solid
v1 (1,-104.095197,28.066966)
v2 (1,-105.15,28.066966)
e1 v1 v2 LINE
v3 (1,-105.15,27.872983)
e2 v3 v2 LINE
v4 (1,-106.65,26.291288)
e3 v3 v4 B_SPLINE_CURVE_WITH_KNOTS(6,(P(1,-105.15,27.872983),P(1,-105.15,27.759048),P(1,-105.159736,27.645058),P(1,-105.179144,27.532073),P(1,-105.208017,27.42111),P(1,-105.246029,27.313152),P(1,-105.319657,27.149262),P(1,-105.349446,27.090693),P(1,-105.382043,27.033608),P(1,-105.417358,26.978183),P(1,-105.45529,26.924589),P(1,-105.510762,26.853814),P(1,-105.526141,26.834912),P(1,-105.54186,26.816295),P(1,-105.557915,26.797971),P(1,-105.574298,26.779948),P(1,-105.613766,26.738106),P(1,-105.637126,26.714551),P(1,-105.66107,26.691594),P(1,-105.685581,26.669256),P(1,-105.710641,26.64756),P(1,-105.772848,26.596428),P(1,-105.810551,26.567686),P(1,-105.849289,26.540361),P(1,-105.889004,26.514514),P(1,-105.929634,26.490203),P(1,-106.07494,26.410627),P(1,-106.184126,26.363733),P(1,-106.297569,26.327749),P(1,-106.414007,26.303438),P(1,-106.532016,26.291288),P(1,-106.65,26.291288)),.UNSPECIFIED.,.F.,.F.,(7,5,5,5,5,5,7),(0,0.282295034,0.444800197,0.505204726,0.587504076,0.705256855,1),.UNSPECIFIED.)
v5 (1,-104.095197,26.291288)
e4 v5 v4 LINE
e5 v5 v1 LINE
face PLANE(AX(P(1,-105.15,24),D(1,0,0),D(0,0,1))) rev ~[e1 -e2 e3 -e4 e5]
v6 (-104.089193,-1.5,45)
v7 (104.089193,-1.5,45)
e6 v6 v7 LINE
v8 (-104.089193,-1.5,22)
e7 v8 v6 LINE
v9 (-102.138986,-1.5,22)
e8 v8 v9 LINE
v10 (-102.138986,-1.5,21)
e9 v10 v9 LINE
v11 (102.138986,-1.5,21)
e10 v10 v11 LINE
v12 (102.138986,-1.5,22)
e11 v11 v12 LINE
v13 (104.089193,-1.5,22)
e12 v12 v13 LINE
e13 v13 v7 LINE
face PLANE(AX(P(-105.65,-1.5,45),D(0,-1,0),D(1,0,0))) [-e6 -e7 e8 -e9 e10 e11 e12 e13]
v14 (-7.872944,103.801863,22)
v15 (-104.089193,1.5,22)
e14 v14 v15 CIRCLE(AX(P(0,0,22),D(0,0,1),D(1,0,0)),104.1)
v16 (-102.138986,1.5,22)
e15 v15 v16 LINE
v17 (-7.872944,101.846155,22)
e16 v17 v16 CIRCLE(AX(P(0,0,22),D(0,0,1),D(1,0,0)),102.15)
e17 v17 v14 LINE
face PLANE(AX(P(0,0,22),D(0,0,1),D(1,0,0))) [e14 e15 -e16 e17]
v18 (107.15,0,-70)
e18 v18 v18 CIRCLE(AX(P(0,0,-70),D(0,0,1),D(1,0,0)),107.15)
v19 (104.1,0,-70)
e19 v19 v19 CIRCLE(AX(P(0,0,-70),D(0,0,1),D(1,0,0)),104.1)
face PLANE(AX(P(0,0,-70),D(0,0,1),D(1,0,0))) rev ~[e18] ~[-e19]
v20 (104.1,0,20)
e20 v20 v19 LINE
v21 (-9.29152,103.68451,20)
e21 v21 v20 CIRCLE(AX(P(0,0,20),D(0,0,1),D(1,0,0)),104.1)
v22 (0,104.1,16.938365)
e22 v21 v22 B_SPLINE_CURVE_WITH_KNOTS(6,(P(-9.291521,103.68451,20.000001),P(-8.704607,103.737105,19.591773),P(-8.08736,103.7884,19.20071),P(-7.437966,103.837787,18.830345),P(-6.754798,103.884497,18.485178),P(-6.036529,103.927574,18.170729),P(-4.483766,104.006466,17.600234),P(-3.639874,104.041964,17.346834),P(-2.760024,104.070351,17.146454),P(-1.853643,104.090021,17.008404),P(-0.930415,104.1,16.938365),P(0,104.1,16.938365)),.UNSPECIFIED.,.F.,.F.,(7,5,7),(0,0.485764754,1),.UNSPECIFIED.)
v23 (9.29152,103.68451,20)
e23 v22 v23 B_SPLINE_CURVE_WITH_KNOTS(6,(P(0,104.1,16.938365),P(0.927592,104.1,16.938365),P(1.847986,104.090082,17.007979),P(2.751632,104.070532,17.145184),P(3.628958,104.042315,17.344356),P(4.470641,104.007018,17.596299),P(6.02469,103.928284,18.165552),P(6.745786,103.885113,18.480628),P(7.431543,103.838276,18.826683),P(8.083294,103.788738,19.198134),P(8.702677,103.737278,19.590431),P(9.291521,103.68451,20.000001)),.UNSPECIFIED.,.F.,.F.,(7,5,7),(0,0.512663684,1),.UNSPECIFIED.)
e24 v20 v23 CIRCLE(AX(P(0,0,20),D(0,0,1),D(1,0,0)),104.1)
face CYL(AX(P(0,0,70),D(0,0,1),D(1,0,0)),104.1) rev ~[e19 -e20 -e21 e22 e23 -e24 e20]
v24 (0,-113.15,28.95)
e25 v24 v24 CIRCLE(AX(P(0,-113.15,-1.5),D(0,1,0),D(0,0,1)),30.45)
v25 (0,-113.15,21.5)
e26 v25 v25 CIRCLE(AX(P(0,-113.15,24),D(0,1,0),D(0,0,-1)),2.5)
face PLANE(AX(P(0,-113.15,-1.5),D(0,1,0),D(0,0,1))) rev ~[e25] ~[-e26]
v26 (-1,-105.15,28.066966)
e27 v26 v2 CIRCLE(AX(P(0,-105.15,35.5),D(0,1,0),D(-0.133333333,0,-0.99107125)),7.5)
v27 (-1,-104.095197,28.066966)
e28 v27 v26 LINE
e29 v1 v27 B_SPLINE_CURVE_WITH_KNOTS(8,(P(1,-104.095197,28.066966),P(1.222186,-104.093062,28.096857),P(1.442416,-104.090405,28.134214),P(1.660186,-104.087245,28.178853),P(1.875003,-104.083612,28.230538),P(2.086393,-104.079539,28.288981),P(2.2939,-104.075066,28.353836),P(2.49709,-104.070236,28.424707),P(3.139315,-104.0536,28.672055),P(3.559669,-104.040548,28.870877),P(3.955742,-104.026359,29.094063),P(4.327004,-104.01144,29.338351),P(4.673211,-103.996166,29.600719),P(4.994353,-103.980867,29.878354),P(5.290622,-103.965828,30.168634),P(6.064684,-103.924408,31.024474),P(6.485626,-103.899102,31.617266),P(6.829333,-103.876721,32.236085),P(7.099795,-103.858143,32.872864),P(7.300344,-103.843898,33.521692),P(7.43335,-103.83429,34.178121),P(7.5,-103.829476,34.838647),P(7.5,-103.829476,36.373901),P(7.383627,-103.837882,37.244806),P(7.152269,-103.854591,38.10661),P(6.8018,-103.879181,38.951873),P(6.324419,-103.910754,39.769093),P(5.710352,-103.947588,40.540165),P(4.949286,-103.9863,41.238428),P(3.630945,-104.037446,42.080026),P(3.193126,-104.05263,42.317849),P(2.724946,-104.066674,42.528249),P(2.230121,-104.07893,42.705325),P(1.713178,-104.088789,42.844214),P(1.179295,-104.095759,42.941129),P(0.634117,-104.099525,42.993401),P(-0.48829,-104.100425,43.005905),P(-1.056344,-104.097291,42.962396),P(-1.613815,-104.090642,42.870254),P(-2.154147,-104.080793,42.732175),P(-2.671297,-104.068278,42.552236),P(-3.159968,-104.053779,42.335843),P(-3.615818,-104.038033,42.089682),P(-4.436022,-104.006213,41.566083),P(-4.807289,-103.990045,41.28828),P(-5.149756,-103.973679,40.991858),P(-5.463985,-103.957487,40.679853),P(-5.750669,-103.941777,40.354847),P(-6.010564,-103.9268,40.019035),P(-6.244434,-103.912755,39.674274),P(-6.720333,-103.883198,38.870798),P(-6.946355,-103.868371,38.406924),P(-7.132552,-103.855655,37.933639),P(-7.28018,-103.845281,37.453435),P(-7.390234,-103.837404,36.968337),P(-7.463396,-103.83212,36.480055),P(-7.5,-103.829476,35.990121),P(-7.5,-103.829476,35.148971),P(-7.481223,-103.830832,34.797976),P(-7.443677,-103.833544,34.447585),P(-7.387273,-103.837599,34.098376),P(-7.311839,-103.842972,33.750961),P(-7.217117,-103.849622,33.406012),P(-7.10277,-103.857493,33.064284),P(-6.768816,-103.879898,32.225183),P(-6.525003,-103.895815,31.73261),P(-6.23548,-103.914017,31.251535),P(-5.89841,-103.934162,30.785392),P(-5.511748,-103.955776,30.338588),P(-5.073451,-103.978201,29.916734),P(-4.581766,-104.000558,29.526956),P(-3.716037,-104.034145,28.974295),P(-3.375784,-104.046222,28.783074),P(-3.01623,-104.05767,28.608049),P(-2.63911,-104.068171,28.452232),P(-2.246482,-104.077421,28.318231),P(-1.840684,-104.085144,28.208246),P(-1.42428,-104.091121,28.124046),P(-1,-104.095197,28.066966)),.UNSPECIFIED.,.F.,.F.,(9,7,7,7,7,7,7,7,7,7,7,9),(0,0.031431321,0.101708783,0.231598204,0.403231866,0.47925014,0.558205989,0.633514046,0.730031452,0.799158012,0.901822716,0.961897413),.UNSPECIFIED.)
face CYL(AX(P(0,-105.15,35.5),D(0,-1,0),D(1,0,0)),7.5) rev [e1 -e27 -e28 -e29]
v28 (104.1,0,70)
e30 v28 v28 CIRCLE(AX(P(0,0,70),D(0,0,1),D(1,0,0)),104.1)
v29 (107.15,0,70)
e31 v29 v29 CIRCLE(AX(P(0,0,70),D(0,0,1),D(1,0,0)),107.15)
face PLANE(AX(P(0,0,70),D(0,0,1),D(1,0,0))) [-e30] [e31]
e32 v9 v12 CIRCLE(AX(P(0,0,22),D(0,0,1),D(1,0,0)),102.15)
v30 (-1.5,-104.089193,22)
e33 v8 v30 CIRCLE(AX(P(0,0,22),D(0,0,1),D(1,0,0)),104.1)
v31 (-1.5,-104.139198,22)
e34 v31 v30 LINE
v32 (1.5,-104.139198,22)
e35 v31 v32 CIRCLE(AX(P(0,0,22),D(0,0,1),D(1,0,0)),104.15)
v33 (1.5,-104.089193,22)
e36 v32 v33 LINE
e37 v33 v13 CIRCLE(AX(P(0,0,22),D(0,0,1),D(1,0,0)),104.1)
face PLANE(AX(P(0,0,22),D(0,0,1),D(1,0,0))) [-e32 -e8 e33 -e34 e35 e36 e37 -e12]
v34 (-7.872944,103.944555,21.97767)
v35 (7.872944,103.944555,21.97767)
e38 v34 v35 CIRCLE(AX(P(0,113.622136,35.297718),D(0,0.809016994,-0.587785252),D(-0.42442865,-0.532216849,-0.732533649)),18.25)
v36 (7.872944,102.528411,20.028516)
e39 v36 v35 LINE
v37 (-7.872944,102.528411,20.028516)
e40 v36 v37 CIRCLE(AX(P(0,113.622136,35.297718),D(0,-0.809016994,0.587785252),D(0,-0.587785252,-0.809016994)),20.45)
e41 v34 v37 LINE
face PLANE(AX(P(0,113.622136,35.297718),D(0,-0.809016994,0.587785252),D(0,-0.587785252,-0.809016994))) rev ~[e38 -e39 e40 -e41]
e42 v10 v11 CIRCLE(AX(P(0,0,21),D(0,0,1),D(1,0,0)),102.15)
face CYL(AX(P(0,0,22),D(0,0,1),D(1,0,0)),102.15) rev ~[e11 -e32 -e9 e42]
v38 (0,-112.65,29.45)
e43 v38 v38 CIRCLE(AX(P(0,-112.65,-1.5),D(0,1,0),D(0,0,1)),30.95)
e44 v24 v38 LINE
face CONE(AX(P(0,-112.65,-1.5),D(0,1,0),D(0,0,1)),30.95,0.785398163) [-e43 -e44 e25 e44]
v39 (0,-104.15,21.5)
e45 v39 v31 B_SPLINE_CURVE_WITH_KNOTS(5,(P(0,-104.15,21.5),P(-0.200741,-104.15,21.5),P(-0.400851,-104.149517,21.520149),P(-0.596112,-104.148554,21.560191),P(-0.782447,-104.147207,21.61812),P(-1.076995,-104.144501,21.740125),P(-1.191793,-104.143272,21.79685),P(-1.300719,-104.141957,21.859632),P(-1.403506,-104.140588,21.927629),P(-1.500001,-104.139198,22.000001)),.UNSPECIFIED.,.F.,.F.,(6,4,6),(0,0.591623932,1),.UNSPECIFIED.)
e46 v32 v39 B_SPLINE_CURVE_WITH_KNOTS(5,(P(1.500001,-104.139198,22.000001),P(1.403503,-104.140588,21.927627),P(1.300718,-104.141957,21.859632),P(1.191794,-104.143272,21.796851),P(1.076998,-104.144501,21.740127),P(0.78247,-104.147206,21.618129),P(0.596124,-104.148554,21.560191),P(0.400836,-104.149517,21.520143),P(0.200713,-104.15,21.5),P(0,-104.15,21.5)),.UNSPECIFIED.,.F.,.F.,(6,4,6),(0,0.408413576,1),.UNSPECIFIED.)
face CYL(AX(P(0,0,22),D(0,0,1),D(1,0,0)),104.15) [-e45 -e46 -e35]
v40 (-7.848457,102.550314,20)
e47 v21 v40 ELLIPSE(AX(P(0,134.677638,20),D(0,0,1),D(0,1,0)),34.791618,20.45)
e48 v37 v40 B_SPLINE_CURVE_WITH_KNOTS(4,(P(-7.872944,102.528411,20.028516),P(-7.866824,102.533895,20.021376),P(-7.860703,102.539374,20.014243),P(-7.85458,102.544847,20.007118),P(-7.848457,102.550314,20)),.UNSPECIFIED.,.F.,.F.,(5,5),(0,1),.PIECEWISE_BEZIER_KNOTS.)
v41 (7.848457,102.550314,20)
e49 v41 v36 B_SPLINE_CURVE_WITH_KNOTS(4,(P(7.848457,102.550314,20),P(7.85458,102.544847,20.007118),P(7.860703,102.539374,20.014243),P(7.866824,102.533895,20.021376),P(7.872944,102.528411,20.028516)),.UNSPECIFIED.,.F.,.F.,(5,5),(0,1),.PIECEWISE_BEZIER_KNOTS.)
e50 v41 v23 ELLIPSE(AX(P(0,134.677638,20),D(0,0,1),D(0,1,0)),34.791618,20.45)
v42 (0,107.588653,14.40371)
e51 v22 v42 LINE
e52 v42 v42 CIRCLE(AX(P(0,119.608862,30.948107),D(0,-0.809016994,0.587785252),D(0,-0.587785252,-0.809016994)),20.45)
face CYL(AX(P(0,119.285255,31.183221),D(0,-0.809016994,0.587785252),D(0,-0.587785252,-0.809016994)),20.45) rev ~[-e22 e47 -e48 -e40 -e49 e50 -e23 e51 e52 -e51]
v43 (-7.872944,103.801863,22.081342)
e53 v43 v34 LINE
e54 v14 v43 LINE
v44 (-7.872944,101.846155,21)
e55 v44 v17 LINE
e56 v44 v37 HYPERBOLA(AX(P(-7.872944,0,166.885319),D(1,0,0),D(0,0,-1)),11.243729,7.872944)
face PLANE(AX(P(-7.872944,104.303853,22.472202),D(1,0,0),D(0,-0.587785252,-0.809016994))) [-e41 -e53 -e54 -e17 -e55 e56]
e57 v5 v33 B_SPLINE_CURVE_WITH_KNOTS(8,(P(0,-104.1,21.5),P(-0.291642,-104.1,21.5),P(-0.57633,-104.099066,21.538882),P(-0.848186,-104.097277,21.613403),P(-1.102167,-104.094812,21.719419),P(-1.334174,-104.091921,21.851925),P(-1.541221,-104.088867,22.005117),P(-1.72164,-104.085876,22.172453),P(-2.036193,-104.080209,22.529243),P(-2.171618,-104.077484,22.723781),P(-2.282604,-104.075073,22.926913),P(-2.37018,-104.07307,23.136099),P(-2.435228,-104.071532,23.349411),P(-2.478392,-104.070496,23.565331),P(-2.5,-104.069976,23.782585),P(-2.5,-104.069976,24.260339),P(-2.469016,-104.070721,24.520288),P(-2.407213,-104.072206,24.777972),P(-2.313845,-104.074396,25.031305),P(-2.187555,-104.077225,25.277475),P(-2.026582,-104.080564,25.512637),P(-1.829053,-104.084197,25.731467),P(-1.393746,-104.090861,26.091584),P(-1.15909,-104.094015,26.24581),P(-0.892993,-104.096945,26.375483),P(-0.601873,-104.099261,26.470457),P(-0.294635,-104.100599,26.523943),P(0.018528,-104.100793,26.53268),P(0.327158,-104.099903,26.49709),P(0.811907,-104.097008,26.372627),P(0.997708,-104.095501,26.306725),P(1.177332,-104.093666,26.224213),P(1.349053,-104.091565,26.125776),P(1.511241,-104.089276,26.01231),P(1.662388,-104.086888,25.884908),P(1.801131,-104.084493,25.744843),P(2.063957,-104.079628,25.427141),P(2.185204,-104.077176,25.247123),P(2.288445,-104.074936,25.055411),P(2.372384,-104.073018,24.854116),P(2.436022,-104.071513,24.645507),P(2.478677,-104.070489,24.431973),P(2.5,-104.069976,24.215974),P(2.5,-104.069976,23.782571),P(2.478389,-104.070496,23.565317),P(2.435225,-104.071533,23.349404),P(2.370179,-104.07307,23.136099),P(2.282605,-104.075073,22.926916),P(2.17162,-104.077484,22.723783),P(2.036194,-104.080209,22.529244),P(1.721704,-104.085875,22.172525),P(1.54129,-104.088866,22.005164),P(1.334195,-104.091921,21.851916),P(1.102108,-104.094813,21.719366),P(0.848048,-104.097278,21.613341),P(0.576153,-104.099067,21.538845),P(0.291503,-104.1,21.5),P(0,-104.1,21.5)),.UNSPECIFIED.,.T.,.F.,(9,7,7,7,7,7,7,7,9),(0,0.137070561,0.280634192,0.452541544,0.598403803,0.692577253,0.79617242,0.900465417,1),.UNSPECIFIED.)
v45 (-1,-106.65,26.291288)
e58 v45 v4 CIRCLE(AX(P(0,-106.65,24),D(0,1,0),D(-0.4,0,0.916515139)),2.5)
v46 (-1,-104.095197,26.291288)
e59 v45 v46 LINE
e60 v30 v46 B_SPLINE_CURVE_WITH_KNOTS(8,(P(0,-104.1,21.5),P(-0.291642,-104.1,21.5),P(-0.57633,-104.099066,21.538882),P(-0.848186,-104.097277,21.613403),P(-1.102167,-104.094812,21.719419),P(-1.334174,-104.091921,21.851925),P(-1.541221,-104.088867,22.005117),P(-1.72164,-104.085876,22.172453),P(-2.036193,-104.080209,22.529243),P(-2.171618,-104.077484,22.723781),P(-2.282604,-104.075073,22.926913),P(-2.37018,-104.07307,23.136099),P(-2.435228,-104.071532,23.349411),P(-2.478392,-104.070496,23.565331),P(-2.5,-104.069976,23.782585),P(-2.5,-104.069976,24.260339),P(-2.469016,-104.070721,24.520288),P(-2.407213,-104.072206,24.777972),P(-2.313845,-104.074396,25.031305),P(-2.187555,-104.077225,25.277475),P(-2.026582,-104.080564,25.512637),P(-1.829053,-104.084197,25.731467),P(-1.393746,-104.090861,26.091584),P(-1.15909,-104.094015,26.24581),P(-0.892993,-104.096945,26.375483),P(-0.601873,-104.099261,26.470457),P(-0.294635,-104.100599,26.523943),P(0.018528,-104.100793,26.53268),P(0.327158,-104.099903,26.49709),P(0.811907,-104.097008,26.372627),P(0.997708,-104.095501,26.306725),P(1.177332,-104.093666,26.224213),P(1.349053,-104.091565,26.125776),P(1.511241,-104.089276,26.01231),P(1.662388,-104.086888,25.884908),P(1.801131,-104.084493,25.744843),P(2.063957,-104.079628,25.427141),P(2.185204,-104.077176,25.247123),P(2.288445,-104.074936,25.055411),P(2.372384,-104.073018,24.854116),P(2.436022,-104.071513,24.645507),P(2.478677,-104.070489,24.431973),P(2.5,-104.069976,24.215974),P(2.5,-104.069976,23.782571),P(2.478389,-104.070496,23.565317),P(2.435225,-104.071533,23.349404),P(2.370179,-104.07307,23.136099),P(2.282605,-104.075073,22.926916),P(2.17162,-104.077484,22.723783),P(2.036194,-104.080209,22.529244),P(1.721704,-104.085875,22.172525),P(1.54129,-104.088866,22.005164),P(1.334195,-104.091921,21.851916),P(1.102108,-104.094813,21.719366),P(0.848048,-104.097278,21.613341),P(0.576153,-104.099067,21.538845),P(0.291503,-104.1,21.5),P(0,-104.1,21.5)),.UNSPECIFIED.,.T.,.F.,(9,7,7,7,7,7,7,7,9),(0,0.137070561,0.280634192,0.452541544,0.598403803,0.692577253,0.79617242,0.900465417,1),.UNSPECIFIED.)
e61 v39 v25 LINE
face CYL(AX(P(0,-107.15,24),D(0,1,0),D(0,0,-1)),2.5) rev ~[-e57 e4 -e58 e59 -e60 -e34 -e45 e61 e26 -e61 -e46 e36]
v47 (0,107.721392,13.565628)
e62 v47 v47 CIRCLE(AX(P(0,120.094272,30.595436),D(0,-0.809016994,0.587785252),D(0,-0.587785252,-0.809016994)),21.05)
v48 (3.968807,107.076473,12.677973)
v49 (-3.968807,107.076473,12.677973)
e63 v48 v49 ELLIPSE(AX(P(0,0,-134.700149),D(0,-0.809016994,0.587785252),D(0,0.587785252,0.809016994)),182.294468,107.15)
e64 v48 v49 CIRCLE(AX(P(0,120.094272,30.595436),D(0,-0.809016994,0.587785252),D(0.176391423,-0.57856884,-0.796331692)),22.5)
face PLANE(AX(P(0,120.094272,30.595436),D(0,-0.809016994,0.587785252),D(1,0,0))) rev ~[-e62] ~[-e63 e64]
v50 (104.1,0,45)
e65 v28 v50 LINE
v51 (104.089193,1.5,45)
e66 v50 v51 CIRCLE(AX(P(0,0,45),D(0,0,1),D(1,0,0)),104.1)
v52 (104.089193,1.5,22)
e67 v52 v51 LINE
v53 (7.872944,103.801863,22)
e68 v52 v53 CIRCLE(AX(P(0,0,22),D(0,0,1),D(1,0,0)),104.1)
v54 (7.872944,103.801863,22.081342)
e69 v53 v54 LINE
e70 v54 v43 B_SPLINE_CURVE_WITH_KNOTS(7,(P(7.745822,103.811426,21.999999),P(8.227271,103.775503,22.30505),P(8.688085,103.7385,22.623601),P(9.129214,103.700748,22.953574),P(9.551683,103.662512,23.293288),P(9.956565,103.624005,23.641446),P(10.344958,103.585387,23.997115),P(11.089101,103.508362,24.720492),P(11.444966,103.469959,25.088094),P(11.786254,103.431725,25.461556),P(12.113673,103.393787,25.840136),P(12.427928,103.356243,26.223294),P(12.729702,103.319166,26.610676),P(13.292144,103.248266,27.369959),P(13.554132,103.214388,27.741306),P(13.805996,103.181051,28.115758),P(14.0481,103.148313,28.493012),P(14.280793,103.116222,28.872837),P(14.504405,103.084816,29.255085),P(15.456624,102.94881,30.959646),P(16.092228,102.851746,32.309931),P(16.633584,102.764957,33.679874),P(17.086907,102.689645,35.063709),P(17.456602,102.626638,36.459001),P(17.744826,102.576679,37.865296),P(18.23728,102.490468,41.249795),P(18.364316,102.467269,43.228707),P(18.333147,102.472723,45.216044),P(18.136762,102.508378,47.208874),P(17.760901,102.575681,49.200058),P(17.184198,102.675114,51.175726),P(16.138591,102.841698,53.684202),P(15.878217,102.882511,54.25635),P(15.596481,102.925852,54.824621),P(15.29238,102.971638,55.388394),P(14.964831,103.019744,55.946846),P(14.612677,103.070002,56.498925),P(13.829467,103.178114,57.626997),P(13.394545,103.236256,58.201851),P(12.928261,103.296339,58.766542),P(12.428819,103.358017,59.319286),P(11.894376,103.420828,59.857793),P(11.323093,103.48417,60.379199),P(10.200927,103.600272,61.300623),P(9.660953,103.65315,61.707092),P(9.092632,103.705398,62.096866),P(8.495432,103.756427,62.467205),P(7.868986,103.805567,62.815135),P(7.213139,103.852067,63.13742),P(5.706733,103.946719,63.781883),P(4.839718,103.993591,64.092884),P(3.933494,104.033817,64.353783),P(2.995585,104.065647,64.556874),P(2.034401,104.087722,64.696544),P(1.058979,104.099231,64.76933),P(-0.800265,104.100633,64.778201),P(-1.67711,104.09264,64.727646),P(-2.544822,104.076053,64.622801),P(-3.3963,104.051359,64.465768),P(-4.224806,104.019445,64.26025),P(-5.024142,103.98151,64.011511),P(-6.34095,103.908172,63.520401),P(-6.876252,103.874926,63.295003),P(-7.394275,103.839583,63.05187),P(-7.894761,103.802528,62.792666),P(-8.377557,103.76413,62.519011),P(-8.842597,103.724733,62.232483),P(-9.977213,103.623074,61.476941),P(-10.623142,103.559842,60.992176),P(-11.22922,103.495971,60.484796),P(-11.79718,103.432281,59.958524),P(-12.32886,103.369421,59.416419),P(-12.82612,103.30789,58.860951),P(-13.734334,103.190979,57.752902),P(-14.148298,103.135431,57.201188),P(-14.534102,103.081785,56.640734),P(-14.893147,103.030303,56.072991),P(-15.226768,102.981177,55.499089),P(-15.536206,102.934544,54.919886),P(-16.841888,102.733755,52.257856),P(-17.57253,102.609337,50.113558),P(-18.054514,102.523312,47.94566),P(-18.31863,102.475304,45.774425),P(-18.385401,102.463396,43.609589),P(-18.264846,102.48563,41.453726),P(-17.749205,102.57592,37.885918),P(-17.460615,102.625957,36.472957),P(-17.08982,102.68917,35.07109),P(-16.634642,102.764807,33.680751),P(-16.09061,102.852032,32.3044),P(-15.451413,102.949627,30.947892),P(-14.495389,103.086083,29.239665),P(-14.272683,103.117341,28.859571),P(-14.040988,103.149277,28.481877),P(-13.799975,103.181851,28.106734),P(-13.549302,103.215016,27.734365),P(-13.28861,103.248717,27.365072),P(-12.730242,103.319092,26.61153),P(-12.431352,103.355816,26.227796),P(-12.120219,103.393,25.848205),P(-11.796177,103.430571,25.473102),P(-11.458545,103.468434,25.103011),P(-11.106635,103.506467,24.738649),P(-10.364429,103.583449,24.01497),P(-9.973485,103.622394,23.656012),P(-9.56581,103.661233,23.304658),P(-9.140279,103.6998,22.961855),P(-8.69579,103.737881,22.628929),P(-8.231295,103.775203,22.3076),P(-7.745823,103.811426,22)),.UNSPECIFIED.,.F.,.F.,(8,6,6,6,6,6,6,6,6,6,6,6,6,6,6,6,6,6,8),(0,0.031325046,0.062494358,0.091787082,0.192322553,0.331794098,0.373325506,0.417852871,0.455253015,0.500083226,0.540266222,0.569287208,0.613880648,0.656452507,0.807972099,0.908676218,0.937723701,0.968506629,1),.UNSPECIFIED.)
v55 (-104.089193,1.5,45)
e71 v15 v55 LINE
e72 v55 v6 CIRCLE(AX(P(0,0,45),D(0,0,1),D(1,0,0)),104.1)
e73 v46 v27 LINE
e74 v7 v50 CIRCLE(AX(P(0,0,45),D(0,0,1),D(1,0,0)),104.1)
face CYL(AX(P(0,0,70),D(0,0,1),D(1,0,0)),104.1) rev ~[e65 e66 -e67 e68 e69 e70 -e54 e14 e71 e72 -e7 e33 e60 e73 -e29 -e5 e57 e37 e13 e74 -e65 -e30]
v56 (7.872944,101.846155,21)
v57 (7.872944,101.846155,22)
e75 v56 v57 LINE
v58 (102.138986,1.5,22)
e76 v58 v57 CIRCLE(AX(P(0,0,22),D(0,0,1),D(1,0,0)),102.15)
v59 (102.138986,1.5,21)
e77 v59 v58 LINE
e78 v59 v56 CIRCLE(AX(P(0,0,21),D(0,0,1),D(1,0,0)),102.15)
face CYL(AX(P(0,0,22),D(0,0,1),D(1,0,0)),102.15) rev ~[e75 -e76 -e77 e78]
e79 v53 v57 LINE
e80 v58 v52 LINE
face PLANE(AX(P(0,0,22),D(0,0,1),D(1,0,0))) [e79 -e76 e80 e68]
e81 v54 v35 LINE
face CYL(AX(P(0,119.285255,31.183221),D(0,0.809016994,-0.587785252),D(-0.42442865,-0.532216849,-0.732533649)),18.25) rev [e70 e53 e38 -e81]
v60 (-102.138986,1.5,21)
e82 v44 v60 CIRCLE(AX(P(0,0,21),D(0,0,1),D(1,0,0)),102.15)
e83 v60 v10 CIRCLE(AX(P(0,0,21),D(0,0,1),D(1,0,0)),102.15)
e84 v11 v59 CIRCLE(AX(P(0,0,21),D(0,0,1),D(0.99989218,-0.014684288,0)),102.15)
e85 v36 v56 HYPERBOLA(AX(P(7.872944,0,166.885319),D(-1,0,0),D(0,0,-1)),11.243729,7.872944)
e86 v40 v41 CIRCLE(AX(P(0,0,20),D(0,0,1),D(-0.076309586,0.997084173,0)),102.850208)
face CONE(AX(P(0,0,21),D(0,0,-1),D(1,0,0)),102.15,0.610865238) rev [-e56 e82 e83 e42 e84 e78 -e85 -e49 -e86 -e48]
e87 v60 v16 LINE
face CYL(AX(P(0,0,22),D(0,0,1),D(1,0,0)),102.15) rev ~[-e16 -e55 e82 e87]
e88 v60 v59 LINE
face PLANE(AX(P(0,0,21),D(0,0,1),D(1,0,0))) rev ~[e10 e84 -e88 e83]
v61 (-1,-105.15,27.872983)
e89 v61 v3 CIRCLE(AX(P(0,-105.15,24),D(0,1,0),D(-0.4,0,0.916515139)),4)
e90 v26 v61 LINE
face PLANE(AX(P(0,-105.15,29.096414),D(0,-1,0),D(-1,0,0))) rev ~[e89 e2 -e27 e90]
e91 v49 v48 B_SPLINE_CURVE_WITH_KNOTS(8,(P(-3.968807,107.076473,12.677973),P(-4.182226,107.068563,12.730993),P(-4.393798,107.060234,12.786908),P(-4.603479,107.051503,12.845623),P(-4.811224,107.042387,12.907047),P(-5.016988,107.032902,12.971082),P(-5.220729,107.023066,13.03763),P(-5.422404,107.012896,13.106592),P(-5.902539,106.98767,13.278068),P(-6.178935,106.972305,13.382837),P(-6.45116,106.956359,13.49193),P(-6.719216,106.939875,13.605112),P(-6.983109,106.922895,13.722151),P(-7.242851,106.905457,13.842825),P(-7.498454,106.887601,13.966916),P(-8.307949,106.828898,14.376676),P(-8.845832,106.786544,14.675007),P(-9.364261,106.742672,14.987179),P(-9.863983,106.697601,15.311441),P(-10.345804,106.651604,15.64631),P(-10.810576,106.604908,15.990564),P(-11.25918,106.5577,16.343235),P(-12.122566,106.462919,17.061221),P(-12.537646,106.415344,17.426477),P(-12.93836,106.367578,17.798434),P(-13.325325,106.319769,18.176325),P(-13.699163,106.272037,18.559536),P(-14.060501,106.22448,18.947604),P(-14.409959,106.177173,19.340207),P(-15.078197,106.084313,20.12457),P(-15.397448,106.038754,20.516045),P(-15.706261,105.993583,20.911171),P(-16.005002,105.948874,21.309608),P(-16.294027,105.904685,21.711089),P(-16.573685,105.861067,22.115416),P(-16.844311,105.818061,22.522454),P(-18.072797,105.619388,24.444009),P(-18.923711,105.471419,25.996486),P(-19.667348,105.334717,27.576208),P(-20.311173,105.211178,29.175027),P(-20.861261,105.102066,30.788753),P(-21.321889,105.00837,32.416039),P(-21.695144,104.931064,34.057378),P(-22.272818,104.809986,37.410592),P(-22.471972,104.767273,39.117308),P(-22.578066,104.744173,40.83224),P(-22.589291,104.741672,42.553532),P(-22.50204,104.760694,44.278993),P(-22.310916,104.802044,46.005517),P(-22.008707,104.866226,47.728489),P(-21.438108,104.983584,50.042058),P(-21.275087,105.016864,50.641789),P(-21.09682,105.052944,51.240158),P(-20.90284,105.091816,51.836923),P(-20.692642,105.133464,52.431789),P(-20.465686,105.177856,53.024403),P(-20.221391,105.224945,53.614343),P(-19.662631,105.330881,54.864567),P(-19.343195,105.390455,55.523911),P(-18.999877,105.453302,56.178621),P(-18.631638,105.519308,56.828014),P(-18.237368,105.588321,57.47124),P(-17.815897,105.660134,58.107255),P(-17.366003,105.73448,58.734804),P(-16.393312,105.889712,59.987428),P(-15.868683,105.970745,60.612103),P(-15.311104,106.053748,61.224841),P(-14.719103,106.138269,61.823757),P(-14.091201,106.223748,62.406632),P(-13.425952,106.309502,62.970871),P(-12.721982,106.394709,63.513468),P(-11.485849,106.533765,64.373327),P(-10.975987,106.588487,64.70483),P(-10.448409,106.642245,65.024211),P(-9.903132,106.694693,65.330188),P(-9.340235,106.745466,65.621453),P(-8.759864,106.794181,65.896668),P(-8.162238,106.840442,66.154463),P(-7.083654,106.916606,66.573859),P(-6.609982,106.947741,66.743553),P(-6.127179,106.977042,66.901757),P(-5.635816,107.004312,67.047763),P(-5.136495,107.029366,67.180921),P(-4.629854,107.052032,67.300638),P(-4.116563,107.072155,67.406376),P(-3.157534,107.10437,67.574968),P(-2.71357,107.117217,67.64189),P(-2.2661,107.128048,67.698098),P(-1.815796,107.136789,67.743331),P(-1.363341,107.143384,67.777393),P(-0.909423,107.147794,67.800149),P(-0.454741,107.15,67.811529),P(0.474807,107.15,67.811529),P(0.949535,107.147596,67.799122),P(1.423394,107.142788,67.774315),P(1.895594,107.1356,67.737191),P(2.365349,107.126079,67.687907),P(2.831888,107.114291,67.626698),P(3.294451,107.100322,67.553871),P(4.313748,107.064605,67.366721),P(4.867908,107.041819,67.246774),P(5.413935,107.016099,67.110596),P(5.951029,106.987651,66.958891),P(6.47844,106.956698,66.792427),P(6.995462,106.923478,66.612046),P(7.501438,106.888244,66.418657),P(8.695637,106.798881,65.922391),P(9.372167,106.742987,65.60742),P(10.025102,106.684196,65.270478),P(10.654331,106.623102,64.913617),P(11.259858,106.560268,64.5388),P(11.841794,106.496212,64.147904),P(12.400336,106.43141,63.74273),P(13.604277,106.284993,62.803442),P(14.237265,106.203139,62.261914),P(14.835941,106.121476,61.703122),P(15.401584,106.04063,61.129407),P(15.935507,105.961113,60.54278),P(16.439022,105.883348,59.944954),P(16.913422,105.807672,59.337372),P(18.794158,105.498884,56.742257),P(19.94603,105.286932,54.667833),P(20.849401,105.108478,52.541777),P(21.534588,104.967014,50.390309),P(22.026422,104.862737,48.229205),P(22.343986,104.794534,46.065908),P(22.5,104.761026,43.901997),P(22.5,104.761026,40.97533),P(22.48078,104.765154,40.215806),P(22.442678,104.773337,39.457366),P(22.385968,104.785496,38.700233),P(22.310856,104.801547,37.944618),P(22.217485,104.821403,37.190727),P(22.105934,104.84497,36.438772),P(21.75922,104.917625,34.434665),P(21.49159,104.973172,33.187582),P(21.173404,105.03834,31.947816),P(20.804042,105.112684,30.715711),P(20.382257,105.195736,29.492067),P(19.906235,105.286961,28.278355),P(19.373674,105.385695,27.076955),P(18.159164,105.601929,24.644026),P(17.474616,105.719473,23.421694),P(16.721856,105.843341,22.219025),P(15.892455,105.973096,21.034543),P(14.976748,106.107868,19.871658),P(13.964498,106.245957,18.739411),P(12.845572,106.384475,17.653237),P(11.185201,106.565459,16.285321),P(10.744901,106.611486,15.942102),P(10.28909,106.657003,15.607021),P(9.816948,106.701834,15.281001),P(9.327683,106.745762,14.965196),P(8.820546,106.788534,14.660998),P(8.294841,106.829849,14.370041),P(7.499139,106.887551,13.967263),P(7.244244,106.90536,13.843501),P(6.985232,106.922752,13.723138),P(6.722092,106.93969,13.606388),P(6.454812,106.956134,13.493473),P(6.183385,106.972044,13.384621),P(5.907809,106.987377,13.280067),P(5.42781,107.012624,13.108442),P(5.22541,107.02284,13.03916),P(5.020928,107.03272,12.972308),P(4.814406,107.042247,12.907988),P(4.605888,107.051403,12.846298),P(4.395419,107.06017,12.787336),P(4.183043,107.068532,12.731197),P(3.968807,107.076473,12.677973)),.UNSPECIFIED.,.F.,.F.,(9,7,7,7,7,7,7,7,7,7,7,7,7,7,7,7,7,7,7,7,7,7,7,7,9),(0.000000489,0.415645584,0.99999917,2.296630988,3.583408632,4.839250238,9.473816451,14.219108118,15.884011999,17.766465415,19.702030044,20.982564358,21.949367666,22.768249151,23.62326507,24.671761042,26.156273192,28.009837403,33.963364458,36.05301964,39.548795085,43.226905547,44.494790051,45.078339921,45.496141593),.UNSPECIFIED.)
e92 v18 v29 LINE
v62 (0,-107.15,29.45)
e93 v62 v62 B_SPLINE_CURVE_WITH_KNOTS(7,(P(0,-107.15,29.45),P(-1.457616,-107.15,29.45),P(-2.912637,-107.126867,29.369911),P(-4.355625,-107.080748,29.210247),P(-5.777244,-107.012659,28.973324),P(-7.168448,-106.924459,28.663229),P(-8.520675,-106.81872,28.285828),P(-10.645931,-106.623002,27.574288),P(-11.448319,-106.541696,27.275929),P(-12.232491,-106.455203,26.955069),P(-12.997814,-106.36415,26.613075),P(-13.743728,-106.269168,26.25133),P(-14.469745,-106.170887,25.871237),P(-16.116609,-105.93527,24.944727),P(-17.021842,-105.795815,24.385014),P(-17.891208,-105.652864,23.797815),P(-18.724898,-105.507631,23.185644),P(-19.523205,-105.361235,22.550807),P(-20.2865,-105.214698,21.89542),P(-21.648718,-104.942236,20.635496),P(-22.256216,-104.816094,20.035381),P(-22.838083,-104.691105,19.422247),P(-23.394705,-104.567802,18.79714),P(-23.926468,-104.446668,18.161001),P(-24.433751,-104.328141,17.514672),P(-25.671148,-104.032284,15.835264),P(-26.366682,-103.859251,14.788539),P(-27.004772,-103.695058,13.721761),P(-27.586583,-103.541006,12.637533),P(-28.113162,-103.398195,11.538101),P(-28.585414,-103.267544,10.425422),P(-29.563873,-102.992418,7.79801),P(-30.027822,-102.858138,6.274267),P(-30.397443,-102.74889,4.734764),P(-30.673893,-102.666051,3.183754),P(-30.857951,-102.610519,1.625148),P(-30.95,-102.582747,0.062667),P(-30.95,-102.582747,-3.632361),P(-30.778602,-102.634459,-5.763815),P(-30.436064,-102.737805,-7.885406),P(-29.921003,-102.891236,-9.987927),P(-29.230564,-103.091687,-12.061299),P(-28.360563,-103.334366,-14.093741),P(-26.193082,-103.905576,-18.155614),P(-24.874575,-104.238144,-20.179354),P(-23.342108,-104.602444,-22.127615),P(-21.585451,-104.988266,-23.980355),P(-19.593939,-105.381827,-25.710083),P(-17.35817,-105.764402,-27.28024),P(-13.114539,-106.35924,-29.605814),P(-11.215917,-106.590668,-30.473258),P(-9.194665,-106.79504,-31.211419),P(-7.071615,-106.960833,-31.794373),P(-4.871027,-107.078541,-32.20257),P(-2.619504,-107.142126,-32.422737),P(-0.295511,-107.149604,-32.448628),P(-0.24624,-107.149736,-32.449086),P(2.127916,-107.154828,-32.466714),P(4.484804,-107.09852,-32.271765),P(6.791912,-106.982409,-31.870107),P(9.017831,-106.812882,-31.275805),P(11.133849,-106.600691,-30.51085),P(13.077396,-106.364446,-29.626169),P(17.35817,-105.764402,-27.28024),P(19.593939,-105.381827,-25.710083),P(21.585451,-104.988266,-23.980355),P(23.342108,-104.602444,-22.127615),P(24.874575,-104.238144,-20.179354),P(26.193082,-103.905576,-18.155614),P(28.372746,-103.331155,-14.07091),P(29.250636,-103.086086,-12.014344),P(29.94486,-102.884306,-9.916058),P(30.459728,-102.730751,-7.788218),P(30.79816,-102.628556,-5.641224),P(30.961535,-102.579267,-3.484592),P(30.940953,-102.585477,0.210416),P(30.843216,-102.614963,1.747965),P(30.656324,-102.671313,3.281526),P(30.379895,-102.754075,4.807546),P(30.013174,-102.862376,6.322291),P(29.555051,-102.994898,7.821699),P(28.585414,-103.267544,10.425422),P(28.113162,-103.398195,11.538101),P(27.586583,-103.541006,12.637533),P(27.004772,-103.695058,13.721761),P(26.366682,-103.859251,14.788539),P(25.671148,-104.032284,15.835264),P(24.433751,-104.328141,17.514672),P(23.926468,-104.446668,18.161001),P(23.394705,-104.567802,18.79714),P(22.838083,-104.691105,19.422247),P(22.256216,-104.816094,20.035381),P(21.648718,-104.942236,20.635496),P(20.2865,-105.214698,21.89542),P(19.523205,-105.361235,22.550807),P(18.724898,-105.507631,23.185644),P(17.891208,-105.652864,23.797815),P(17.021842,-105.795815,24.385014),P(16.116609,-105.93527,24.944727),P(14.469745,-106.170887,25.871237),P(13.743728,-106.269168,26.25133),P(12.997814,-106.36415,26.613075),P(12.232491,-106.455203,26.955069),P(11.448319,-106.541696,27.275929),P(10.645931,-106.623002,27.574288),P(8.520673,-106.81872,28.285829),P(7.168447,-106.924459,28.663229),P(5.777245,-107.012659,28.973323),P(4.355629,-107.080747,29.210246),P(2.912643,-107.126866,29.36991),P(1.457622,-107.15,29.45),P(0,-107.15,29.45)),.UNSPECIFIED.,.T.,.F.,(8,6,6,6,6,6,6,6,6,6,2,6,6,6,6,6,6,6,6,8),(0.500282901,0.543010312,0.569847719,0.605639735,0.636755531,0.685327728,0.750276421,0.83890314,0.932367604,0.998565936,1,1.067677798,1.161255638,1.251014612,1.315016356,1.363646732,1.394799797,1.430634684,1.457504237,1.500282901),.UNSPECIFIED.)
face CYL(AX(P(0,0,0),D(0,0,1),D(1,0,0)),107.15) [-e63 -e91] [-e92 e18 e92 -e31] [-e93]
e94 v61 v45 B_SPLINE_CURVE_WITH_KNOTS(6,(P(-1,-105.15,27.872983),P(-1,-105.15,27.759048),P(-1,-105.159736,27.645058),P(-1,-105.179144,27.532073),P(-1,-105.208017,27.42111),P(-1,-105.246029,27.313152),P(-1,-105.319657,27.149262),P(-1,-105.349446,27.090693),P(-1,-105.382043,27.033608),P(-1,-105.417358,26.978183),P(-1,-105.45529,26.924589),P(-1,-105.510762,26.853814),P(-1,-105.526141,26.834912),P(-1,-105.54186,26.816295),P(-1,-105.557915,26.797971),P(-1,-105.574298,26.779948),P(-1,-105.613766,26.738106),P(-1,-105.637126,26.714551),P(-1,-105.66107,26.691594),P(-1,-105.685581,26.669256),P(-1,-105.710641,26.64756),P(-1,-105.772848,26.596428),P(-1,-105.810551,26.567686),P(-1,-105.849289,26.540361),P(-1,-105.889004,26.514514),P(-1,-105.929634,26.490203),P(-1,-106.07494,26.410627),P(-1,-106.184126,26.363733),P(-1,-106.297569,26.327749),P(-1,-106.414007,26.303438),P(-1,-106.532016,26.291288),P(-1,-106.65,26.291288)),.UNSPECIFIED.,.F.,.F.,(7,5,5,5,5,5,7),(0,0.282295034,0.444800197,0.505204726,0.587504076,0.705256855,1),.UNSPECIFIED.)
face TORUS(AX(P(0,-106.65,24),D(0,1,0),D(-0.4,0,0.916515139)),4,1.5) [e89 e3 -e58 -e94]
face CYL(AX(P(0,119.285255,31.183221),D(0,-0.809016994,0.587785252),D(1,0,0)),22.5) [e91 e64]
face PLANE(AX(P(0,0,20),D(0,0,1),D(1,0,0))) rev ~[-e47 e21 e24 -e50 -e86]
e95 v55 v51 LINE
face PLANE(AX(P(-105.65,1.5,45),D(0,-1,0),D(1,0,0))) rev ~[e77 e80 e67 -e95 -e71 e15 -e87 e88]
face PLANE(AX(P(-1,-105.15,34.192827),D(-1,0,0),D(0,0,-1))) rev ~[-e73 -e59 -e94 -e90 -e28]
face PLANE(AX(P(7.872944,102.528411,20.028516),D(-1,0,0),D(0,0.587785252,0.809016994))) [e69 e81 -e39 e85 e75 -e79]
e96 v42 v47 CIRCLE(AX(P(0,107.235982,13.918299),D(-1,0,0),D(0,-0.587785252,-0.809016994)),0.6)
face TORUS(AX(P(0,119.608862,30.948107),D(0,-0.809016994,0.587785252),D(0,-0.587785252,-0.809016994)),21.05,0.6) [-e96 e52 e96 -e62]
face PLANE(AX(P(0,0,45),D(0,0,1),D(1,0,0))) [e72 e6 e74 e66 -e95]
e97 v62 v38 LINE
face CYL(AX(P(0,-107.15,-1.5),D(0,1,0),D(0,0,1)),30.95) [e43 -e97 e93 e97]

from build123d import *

# Parameters (mm, degrees)
BOSS_EXTRUDE2_DEPTH      = 70
BOSS_EXTRUDE2_DEPTH_BACK = 70
SKETCH2_R                = 107.15
SKETCH10_R               = 19
CUT_EXTRUDE2_DEPTH       = 10
BOSS_EXTRUDE6_DEPTH      = 32
BOSS_EXTRUDE6_DEPTH_BACK = 1
SKETCH18_R               = 22.5
BOSS_EXTRUDE7_DEPTH      = 5
BOSS_EXTRUDE7_DEPTH_BACK = 6
SKETCH56_R               = 30.95
SKETCH20_R               = 104.1
CUT_EXTRUDE3_DEPTH       = 140
CUT_EXTRUDE14_DEPTH      = 5
CUT_EXTRUDE14_DEPTH_BACK = 55
SKETCH51_R               = 2.5
CUT_EXTRUDE15_DEPTH      = 5
SKETCH44_R               = 7.5
CUT_EXTRUDE10_DEPTH      = 10
FILLET3_R                = 1.5
SKETCH61_R               = 104.15
BOSS_EXTRUDE8_DEPTH      = 2
SKETCH62_R               = 102.15
CUT_EXTRUDE16_DEPTH      = 10
CHAMFER7_SIZE            = 1
CHAMFER7_SIZE2           = 0.700207538
SKETCH5_W                = 211.3
SKETCH5_H                = 3
BOSS_EXTRUDE3_DEPTH      = 24
SKETCH24_R               = 18.25
CUT_EXTRUDE6_DEPTH       = 50
CUT_EXTRUDE5_DEPTH       = 7
CUT_EXTRUDE5_DEPTH_BACK  = 5
SKETCH23_R               = 20.45
CHAMFER1_SIZE            = 0.5
FILLET4_R                = 0.6
CUT_EXTRUDE19_DEPTH      = 4


with BuildPart() as part:
    # Sketch2 → Boss-Extrude2 (new, two sides: drawn at the far end of the back side and taken through both)
    with BuildSketch(Plane.XY.offset(-BOSS_EXTRUDE2_DEPTH_BACK)):
        Circle(SKETCH2_R)
    extrude(amount=BOSS_EXTRUDE2_DEPTH + BOSS_EXTRUDE2_DEPTH_BACK)

    # Sketch10 → Cut-Extrude2 (cut, symmetric)
    with BuildSketch(Plane(origin=(0, 51.109455148, -37.133192748), x_dir=(1, 0, 0), z_dir=(0, -0.8090169943749408, 0.5877852522924822))):
        with Locations((0, 95.341869558)):
            Circle(SKETCH10_R)
    extrude(amount=CUT_EXTRUDE2_DEPTH, both=True, mode=Mode.SUBTRACT)

    # Sketch18 → Boss-Extrude6 (add, two sides: drawn at the far end of the back side and taken through both)
    with BuildSketch(Plane(origin=(0, 63.244710063, -45.949971532), x_dir=(1, 0, 0), z_dir=(0, -0.8090169943749408, 0.5877852522924822)).offset(-BOSS_EXTRUDE6_DEPTH_BACK)):
        with Locations((0, 95.341869558)):
            Circle(SKETCH18_R)
    extrude(amount=BOSS_EXTRUDE6_DEPTH + BOSS_EXTRUDE6_DEPTH_BACK)

    # Sketch56 → Boss-Extrude7 (add, two sides: drawn at the far end of the back side and taken through both)
    with BuildSketch(Plane(origin=(0, -107.15, 0), x_dir=(1, 0, 0), z_dir=(0, 1, 0)).offset(-BOSS_EXTRUDE7_DEPTH_BACK)):
        with Locations((0, 1.5)):
            Circle(SKETCH56_R)
    extrude(amount=BOSS_EXTRUDE7_DEPTH + BOSS_EXTRUDE7_DEPTH_BACK)

    # Sketch20 → Cut-Extrude3 (cut)
    with BuildSketch(Plane.XY.offset(70)):
        Circle(SKETCH20_R)
    extrude(amount=-CUT_EXTRUDE3_DEPTH, mode=Mode.SUBTRACT)

    # Sketch51 → Cut-Extrude14 (cut, two sides: drawn at the far end of the back side and taken through both)
    with BuildSketch(Plane(origin=(0, -107.15, 0), x_dir=(1, 0, 0), z_dir=(0, 1, 0)).offset(-CUT_EXTRUDE14_DEPTH_BACK)):
        with Locations((0, -24)):
            Circle(SKETCH51_R)
    extrude(amount=CUT_EXTRUDE14_DEPTH + CUT_EXTRUDE14_DEPTH_BACK, mode=Mode.SUBTRACT)

    # Sketch58 → Cut-Extrude15 (cut)
    with BuildSketch(Plane(origin=(0, -105.15, 0), x_dir=(1, 0, 0), z_dir=(0, 1, 0))):
        Polygon((0, -24), (1, -24), (1, -34.192827208), (-1, -34.192827208), (-1, -24), align=None)
    extrude(amount=CUT_EXTRUDE15_DEPTH, mode=Mode.SUBTRACT)

    # Sketch44 → Cut-Extrude10 (cut)
    with BuildSketch(Plane(origin=(0, -105.15, 0), x_dir=(1, 0, 0), z_dir=(0, 1, 0))):
        with Locations((0, -35.5)):
            Circle(SKETCH44_R)
    extrude(amount=CUT_EXTRUDE10_DEPTH, mode=Mode.SUBTRACT)

    # Fillet3
    fillet3_edges = [part.edges().sort_by_distance(p)[0] for p in [
        (0, -105.15, 26.5),
    ]]
    fillet(fillet3_edges, radius=FILLET3_R)

    # Sketch61 → Boss-Extrude8 (add)
    with BuildSketch(Plane.XY.offset(22)):
        Circle(SKETCH61_R)
    extrude(amount=-BOSS_EXTRUDE8_DEPTH)

    # Sketch62 → Cut-Extrude16 (cut)
    with BuildSketch(Plane.XY.offset(22)):
        Circle(SKETCH62_R)
    extrude(amount=-CUT_EXTRUDE16_DEPTH, mode=Mode.SUBTRACT)

    # Chamfer7
    chamfer7_edges = [part.edges().sort_by_distance(p)[0] for p in [
        (-102.15, 0, 20),
    ]]
    chamfer7_side = [part.faces().sort_by_distance(p)[0] for p in [
        (-102.15, 0, 21),
    ]]
    chamfer(chamfer7_edges, length=CHAMFER7_SIZE, length2=CHAMFER7_SIZE2, reference=chamfer7_side[0])

    # Sketch5 → Boss-Extrude3 (add)
    with BuildSketch(Plane.XY.offset(45)):
        Rectangle(SKETCH5_W, SKETCH5_H)
    extrude(amount=-BOSS_EXTRUDE3_DEPTH)

    # Sketch24 → Cut-Extrude6 (cut)
    with BuildSketch(Plane(origin=(0, 63.244710063, -45.949971532), x_dir=(1, 0, 0), z_dir=(0, -0.8090169943749408, 0.5877852522924822))):
        with Locations((0, 95.341869558)):
            Circle(SKETCH24_R)
    extrude(amount=CUT_EXTRUDE6_DEPTH, mode=Mode.SUBTRACT)

    # Sketch23 → Cut-Extrude5 (cut, two sides: drawn at the far end of the back side and taken through both)
    with BuildSketch(Plane(origin=(0, 63.244710063, -45.949971532), x_dir=(1, 0, 0), z_dir=(0, -0.8090169943749408, 0.5877852522924822)).offset(-CUT_EXTRUDE5_DEPTH_BACK)):
        with Locations((0, 95.341869558)):
            Circle(SKETCH23_R)
    extrude(amount=CUT_EXTRUDE5_DEPTH + CUT_EXTRUDE5_DEPTH_BACK, mode=Mode.SUBTRACT)

    # Chamfer1
    chamfer1_edges = [part.edges().sort_by_distance(p)[0] for p in [
        (-30.95, -113.15, -1.5),
    ]]
    chamfer(chamfer1_edges, length=CHAMFER1_SIZE)

    # Fillet4
    fillet4_edges = [part.edges().sort_by_distance(p)[0] for p in [
        (-20.45, 120.09427191, 30.595435963),
    ]]
    fillet(fillet4_edges, radius=FILLET4_R)

    # Sketch67 → Cut-Extrude19 (cut)
    with BuildSketch(Plane(origin=(0, 57.581591103, -41.835474766), x_dir=(1, 0, 0), z_dir=(0, 0.8090169943749409, -0.5877852522924822))):
        Polygon((-7.872943576, -76.468097824), (7.872943576, -76.468097824), (7.872943576, -79.749667474), (-7.872943576, -79.48866005), align=None)
    extrude(amount=-CUT_EXTRUDE19_DEPTH, mode=Mode.SUBTRACT)


solid = part.part
